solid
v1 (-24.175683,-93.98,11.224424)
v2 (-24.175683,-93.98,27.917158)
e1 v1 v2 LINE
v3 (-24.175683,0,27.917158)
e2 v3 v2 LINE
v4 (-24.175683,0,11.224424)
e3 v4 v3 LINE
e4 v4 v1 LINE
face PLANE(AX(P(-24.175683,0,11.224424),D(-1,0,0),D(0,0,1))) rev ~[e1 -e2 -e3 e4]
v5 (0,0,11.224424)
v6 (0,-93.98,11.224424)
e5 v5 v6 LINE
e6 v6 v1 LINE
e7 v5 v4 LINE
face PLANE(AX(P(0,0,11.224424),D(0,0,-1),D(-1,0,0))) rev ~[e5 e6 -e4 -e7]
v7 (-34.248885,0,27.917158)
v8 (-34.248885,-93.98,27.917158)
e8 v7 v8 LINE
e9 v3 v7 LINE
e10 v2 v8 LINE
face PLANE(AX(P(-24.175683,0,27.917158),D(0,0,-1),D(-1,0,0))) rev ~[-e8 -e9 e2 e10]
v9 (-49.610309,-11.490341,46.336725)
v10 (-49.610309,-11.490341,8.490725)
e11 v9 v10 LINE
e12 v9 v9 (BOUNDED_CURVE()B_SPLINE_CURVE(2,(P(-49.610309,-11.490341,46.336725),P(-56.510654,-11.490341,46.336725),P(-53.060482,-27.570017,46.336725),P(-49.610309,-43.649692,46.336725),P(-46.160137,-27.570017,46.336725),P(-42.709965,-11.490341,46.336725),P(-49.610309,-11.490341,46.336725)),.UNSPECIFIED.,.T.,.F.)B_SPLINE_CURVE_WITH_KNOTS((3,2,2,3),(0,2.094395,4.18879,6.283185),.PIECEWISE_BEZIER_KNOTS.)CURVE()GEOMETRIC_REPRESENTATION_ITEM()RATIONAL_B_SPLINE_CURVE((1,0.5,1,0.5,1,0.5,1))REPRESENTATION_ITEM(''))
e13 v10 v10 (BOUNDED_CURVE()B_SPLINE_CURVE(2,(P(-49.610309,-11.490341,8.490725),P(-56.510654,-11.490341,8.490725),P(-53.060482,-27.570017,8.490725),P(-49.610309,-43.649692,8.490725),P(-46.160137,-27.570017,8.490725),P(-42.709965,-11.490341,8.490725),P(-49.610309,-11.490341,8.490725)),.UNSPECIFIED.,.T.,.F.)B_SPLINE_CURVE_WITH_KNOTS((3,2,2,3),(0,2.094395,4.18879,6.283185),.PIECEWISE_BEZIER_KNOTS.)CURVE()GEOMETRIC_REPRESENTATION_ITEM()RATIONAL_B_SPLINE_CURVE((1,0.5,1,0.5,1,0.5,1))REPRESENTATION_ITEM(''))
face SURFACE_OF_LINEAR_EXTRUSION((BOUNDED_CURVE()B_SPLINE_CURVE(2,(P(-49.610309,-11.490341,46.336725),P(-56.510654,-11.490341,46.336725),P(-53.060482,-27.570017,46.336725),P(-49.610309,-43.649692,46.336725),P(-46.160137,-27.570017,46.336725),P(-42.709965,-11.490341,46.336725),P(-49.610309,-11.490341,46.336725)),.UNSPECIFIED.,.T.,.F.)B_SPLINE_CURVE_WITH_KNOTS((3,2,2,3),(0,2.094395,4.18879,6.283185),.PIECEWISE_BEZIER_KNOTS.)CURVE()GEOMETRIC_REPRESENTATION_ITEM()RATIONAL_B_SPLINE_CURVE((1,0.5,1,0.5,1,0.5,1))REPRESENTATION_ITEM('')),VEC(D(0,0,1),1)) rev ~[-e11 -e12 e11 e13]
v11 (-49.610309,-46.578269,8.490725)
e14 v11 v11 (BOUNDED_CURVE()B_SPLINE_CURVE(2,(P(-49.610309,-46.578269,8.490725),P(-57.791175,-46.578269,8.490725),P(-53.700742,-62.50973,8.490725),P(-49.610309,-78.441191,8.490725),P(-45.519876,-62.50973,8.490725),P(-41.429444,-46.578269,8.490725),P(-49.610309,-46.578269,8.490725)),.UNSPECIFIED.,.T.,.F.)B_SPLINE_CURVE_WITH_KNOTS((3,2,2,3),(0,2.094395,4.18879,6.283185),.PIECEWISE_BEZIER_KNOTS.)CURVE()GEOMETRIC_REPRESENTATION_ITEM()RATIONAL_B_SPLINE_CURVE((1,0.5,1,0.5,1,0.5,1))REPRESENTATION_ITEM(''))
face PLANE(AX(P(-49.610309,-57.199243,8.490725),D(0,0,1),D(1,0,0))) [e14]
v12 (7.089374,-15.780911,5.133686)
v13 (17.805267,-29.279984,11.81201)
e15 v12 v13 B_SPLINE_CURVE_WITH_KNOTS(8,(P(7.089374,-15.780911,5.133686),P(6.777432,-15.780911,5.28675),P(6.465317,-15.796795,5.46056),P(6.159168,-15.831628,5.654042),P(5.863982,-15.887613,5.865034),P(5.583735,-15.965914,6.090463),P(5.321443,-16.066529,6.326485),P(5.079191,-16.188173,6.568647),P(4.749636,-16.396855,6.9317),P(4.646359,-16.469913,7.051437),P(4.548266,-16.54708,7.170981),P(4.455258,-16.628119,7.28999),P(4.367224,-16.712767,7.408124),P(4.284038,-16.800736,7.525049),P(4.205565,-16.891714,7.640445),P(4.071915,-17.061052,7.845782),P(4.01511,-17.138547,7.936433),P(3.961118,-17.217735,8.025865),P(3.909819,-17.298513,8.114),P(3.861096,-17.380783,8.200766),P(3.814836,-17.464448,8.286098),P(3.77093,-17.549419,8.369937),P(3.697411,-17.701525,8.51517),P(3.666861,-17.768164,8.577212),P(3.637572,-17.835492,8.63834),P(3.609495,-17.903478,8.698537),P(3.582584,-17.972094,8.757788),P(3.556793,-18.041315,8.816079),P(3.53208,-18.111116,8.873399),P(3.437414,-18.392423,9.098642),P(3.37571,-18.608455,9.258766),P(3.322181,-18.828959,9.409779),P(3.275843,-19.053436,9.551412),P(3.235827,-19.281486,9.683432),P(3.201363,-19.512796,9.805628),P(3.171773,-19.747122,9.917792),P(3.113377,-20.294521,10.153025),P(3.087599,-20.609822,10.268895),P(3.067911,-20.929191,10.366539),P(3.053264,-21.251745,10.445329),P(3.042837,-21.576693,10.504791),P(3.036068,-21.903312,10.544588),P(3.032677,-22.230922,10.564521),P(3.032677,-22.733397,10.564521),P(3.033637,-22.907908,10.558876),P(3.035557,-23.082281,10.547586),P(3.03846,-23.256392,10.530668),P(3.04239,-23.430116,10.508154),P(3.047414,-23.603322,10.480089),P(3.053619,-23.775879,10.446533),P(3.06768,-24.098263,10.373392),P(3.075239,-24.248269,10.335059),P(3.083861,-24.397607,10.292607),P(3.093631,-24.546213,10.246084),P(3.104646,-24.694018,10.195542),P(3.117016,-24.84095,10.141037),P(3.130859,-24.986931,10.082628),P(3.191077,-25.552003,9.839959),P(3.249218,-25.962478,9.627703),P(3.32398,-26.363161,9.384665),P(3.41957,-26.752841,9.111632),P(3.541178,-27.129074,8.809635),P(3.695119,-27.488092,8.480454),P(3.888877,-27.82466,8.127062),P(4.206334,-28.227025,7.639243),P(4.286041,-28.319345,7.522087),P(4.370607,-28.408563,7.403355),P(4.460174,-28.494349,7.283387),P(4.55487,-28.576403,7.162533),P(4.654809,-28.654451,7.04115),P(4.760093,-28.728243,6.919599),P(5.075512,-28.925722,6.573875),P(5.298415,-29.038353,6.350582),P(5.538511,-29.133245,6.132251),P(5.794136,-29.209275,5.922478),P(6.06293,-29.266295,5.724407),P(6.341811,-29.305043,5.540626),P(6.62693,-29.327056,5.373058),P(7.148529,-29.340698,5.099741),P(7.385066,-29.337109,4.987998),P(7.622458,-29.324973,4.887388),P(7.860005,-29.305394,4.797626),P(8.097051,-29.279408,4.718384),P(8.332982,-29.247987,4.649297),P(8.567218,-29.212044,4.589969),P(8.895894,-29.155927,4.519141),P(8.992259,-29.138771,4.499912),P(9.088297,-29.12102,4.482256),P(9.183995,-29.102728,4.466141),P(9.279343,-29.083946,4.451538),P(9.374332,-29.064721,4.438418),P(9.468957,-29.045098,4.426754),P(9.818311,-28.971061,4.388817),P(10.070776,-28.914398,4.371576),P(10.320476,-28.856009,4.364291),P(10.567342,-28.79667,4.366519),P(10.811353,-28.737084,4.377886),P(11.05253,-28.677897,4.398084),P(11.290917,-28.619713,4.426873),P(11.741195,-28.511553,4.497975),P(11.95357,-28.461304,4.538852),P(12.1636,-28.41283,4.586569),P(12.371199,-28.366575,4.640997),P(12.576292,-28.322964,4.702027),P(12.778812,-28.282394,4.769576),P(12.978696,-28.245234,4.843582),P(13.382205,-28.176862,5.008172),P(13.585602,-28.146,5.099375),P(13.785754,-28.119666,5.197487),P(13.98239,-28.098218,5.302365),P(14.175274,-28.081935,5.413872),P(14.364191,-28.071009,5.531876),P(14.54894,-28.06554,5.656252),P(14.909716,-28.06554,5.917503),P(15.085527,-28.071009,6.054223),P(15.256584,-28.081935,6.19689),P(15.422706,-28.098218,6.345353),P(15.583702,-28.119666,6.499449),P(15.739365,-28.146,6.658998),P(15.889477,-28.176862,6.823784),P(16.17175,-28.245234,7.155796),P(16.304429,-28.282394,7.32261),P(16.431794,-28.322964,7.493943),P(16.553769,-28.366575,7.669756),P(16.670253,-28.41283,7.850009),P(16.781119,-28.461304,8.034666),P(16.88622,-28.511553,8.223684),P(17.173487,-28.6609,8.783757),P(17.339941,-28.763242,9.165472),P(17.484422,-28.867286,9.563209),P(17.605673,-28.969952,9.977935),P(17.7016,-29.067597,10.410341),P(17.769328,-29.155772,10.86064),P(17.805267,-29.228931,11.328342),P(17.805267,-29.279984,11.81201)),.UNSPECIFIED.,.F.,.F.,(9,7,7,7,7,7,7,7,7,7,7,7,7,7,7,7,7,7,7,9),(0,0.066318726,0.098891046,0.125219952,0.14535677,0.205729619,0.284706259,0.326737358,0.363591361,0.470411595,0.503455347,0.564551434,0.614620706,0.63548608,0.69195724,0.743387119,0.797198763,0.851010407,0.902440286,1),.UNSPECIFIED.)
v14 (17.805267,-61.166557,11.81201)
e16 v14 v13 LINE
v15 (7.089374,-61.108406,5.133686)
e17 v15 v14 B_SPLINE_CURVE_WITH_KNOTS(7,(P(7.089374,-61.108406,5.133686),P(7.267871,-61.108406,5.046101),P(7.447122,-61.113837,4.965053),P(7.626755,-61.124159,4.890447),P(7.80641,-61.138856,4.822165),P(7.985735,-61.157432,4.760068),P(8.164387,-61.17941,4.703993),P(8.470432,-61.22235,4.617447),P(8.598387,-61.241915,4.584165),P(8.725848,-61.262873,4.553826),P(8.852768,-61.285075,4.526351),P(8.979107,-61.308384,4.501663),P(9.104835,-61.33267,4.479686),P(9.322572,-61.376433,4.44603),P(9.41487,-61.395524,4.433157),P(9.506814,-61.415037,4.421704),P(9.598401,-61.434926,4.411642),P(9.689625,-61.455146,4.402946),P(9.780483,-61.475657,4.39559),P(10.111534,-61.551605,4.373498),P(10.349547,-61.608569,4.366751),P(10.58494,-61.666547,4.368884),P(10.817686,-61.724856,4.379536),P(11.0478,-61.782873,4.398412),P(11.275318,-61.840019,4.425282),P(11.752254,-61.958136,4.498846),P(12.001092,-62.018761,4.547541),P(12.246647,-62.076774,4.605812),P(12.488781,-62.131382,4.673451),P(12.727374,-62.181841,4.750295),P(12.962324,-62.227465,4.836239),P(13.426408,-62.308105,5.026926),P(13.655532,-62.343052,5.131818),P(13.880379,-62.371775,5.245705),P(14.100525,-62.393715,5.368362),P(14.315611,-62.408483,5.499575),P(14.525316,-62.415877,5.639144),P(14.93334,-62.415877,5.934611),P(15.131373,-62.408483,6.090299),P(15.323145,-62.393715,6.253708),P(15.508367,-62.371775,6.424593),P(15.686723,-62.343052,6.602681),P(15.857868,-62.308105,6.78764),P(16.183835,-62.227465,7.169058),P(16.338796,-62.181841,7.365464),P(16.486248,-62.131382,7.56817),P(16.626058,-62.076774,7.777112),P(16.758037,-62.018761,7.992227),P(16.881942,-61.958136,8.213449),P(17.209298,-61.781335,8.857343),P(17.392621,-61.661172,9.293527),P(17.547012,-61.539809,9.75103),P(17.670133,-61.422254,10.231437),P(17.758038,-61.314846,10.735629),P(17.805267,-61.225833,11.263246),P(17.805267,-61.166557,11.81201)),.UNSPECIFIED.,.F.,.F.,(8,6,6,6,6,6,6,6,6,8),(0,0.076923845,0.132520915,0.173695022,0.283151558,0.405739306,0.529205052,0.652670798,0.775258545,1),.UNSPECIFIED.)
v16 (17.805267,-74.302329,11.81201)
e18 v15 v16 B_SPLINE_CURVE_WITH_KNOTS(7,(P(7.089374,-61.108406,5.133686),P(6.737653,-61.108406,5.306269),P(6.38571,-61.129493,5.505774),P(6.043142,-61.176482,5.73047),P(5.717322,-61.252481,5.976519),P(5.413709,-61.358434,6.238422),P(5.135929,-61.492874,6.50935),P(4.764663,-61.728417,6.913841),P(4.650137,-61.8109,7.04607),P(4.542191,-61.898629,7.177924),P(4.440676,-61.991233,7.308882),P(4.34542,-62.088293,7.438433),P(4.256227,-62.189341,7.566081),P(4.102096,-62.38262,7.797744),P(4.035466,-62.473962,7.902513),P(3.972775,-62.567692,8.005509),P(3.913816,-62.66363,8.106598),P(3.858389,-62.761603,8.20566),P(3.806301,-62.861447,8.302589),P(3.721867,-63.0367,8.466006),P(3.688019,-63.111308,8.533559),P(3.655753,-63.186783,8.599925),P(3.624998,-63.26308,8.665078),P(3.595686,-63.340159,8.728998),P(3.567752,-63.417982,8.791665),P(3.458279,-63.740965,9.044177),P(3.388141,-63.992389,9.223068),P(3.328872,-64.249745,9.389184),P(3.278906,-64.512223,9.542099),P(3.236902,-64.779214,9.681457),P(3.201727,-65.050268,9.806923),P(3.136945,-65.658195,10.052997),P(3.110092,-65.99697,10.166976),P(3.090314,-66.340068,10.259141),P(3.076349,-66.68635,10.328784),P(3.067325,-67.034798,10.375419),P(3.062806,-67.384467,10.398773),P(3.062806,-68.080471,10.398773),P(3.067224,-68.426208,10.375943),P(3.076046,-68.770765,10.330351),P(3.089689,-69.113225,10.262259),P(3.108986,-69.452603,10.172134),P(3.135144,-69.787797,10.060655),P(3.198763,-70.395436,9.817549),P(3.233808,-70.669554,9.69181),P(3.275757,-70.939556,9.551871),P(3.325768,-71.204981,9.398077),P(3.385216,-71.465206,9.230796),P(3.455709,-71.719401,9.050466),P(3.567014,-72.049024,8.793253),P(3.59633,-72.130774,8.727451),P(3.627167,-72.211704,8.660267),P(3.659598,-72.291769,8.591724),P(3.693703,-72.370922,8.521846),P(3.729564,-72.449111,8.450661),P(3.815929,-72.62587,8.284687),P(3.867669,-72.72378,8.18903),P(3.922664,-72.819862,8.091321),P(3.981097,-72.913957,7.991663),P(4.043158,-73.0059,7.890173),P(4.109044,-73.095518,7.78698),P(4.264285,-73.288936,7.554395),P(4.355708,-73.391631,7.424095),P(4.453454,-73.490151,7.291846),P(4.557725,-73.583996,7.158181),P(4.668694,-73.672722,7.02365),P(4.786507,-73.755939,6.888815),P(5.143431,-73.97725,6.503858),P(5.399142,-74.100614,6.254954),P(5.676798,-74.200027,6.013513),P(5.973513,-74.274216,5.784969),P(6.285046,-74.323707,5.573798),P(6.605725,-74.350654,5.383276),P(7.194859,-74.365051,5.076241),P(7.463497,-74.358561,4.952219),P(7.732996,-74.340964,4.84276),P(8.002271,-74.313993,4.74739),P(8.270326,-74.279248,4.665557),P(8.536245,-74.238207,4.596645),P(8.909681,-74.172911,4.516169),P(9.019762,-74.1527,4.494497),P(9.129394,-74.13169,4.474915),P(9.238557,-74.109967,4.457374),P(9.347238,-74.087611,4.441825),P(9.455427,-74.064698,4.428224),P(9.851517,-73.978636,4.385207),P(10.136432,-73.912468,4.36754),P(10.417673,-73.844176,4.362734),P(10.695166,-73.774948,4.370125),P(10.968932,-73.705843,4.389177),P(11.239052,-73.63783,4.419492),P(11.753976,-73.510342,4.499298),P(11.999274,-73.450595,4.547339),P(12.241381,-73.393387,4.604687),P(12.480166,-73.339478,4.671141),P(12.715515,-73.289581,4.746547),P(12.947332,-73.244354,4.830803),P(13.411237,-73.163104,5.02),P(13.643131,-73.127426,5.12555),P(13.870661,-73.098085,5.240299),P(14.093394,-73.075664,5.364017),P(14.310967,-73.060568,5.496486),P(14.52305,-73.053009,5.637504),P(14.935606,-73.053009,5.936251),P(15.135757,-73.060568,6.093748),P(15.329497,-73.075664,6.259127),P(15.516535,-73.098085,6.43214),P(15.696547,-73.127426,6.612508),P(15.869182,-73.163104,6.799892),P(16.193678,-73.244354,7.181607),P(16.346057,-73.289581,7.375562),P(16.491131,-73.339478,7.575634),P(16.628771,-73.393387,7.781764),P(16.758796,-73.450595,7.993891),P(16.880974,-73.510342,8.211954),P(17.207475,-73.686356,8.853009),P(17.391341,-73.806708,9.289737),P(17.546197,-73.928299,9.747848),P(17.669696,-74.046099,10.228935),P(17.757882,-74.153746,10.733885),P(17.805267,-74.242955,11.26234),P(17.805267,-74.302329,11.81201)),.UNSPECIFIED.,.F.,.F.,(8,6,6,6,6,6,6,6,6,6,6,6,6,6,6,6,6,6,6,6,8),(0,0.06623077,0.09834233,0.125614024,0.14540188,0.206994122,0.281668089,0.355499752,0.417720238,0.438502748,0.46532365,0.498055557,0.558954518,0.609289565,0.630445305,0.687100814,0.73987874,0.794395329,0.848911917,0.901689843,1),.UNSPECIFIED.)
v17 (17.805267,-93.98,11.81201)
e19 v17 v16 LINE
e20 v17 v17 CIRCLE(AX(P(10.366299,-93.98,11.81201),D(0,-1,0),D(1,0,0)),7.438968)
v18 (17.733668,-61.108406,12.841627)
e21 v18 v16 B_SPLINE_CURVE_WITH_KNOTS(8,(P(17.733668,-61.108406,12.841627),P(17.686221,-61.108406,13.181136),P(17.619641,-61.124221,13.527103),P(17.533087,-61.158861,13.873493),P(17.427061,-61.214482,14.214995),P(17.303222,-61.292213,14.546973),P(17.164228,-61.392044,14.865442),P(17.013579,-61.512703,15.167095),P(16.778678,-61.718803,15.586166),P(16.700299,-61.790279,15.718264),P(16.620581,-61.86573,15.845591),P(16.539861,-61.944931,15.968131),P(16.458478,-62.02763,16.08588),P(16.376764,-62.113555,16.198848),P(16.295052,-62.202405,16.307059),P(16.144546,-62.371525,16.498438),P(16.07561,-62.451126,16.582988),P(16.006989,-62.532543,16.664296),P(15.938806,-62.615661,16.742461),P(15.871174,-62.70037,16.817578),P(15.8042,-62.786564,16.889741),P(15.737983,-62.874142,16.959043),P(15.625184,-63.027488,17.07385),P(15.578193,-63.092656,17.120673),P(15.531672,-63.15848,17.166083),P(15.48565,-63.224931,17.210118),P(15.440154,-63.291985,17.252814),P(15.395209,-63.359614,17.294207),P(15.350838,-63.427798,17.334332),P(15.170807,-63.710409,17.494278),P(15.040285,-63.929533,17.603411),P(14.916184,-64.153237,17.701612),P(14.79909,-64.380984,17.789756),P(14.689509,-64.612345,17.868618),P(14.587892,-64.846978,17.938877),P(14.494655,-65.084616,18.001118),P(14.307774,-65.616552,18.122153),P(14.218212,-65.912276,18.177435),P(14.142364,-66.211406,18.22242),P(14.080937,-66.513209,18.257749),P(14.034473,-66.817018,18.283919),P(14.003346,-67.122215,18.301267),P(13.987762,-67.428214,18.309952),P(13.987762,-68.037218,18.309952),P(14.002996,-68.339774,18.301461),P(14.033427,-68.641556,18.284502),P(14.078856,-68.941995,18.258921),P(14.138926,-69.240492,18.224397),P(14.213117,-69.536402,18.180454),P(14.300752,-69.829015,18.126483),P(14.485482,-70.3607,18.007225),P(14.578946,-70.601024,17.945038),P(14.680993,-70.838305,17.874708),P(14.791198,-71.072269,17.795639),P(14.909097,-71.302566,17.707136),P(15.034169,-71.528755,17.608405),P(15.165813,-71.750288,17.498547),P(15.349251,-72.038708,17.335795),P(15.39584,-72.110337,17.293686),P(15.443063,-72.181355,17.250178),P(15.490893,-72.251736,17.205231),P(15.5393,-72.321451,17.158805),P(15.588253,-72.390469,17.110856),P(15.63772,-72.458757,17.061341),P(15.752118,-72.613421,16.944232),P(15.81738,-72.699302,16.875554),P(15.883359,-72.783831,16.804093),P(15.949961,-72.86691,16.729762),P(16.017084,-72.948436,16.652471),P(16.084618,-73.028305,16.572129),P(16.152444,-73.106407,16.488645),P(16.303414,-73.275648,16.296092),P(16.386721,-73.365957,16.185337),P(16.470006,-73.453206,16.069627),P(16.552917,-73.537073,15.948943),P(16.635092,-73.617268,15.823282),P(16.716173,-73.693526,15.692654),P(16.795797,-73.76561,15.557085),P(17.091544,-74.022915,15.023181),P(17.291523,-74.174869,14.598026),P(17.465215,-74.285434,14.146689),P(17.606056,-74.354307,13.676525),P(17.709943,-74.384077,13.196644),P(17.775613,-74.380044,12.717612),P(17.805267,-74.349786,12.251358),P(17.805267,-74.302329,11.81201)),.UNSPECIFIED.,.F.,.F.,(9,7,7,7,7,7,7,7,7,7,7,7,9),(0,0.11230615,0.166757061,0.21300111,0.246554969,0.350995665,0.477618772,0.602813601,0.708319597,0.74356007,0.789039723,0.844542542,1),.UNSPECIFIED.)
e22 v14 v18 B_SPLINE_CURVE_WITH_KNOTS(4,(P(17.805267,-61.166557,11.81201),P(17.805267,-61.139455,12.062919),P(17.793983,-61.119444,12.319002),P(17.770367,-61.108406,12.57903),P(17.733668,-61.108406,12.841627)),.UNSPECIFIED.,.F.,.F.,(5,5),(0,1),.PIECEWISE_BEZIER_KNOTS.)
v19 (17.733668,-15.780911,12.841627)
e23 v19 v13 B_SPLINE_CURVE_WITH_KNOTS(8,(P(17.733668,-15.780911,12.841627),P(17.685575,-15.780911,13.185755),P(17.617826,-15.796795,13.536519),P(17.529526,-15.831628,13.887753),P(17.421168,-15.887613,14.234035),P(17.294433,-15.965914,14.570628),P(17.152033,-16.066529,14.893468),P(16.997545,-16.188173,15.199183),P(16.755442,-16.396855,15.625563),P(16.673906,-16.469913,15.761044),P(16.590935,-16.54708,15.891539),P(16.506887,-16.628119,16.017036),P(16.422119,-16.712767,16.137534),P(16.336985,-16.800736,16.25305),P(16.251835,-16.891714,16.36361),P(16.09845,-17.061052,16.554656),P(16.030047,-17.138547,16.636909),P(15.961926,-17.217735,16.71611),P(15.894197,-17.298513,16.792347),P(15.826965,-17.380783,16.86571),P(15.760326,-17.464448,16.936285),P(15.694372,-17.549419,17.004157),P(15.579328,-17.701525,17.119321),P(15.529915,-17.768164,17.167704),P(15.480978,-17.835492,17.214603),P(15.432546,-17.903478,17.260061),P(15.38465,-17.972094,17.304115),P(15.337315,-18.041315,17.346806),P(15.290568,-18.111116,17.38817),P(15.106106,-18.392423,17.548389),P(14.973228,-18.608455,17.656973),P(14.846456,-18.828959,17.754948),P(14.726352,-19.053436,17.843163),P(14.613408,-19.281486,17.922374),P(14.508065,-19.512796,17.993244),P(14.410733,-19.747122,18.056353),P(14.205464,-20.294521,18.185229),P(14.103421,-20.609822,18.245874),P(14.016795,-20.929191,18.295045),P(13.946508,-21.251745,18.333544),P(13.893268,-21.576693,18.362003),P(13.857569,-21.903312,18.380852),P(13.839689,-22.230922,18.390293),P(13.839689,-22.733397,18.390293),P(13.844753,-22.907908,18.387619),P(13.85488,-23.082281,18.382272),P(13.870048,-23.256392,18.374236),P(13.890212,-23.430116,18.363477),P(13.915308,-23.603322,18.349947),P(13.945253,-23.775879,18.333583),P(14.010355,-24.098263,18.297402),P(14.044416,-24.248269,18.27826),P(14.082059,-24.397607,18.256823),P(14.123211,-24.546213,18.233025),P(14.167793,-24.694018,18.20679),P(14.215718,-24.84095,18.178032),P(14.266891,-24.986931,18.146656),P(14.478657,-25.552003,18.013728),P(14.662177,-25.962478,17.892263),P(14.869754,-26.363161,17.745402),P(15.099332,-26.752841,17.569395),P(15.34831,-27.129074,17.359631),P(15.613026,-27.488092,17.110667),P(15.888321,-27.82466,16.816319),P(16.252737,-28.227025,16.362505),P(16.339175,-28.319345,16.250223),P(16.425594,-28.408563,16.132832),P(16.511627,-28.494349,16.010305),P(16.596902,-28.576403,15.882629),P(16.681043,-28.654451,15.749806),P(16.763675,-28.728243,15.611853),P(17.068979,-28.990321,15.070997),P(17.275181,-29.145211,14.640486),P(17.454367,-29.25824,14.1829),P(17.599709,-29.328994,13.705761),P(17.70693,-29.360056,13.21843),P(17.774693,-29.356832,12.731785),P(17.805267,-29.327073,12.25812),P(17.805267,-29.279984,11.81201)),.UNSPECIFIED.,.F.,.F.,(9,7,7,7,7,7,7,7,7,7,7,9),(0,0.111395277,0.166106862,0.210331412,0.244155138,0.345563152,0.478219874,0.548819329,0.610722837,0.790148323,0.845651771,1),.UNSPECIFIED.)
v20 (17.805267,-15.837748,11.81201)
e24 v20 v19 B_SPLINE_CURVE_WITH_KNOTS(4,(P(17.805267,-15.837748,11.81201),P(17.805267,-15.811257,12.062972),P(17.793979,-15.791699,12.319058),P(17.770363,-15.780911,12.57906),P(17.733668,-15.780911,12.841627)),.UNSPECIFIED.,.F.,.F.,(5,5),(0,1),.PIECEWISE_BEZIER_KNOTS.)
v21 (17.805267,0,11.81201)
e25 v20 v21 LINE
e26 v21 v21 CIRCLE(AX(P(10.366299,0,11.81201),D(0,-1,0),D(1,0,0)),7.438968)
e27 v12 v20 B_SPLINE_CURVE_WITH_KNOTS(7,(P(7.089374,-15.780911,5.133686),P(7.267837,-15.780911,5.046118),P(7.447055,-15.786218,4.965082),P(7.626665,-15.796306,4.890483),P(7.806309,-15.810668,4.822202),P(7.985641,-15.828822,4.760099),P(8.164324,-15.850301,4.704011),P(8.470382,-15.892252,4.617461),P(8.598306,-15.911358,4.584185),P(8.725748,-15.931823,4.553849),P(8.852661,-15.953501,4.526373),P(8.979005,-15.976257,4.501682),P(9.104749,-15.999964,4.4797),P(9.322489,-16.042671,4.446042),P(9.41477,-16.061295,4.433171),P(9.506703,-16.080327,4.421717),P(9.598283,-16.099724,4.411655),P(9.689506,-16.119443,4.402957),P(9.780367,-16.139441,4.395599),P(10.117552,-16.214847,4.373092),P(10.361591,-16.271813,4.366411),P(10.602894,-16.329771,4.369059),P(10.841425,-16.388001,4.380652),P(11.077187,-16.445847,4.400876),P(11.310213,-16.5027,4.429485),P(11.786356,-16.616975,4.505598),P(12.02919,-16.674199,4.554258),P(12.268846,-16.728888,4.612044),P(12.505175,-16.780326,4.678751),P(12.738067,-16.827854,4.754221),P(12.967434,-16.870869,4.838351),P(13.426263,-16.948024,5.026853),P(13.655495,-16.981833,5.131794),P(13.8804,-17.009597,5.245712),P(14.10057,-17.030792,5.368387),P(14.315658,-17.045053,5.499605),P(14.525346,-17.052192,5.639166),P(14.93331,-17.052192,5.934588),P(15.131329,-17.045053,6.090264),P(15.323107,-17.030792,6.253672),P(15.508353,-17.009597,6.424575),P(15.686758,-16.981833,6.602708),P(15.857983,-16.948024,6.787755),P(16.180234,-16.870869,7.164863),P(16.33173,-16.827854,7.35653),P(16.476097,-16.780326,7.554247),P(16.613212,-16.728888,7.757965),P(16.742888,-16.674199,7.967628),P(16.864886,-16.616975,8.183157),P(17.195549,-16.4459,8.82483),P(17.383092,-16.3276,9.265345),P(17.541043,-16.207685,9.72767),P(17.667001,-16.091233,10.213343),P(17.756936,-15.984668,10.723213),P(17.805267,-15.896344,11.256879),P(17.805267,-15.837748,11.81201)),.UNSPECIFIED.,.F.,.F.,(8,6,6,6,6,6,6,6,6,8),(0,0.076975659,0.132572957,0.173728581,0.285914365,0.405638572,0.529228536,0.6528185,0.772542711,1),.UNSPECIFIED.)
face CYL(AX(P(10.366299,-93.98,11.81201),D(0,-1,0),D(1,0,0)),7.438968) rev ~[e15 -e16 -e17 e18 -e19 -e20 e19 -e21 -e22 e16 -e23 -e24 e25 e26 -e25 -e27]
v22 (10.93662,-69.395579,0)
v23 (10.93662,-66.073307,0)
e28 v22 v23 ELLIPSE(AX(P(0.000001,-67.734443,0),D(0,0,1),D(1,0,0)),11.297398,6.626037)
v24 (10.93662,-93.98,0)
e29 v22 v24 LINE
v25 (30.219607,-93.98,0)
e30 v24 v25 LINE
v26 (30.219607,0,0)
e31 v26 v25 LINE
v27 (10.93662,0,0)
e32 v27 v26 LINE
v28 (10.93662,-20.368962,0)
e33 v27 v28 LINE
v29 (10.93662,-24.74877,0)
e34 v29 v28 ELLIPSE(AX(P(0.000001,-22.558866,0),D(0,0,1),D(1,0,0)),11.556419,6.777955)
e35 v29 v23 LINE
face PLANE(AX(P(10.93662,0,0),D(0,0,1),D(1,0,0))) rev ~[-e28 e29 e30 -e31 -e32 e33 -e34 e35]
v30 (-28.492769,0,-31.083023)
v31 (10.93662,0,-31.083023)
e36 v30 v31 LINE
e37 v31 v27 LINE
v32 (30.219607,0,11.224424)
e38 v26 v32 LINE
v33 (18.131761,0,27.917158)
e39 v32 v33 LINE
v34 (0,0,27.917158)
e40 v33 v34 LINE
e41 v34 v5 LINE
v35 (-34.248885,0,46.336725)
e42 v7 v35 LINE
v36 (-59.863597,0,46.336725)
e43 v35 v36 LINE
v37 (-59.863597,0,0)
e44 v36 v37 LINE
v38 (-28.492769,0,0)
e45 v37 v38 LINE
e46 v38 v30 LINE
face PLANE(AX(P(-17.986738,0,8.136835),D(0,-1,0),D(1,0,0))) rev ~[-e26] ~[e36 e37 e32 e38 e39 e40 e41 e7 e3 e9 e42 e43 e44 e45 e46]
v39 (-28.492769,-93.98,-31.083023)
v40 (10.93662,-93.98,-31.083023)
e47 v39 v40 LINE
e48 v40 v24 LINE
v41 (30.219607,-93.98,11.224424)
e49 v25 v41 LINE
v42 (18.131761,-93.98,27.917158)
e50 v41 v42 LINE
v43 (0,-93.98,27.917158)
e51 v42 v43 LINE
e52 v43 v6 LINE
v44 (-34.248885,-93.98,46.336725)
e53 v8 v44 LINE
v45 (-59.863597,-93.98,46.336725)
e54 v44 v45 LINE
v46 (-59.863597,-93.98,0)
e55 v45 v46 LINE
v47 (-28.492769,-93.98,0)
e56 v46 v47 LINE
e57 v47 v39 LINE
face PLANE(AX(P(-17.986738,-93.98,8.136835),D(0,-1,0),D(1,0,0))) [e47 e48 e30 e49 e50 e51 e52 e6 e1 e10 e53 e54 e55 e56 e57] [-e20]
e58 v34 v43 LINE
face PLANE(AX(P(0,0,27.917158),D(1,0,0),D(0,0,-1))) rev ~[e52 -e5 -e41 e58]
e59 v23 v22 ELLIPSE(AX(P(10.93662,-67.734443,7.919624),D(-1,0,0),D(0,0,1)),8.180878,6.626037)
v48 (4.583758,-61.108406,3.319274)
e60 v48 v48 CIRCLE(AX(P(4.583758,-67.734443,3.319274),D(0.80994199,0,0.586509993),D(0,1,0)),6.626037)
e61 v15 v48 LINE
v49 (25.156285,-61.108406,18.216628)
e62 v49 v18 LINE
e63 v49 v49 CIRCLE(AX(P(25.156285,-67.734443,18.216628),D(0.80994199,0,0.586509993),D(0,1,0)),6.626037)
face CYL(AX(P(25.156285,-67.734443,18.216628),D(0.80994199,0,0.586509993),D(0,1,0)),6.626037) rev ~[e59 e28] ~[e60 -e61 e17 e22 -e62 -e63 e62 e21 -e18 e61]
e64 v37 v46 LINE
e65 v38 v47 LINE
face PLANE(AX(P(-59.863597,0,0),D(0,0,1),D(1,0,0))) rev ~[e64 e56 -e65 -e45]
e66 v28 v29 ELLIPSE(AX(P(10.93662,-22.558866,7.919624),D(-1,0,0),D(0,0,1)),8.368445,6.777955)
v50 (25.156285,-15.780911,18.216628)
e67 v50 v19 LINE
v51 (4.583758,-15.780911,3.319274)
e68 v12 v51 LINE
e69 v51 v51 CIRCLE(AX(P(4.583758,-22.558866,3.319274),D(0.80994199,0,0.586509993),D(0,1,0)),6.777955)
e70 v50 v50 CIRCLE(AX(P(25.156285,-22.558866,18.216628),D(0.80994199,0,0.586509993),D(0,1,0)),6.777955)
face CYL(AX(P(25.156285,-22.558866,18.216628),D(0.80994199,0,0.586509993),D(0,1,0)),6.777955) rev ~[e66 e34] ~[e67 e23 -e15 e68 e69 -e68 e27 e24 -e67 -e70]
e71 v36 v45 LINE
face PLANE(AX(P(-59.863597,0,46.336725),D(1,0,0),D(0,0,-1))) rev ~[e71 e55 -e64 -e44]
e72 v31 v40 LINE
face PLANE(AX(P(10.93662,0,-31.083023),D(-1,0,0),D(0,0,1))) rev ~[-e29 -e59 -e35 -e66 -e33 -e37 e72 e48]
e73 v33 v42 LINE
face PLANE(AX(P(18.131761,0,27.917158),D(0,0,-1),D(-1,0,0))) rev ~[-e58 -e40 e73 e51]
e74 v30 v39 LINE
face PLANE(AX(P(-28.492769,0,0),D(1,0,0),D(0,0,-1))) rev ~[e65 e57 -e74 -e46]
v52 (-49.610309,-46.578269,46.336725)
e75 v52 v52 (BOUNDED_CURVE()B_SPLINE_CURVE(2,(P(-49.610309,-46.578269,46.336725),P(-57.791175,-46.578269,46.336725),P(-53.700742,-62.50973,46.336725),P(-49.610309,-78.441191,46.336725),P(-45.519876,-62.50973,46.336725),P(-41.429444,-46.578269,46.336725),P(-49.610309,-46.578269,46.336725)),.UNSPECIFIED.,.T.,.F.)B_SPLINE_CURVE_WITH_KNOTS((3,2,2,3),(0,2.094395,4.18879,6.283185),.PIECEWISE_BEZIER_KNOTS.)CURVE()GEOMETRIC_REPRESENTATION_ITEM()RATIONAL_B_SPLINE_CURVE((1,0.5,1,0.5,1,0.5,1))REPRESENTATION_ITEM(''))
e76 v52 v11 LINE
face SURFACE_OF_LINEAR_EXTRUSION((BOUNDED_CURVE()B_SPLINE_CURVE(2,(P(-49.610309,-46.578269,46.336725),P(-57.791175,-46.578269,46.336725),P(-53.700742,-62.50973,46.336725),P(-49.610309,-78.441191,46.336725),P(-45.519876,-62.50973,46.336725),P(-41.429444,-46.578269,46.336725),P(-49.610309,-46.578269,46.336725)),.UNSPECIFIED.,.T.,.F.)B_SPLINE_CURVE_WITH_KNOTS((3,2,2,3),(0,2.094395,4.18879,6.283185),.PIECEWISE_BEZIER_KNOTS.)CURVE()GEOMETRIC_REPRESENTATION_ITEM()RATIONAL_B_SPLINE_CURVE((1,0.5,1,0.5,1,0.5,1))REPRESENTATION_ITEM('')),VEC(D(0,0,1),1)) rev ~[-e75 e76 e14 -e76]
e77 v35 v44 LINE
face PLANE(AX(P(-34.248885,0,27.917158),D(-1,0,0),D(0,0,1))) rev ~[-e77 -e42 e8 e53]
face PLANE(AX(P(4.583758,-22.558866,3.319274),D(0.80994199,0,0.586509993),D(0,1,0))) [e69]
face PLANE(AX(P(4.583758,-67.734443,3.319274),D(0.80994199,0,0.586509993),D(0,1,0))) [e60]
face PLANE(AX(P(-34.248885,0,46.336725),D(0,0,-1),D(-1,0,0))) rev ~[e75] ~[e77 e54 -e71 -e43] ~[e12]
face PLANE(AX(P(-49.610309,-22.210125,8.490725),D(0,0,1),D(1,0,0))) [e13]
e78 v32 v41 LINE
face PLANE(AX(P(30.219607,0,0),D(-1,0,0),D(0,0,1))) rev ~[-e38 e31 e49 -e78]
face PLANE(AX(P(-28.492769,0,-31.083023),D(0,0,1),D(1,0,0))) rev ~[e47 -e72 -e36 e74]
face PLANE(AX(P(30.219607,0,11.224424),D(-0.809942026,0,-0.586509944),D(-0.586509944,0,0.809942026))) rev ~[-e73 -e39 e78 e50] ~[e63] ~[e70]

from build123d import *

# Parameters (mm, degrees)
F1_DEPTH = 93.98
F2_R     = 6.626037
F2_R_2   = 6.777955
F3_DEPTH = 25.4
F5_DEPTH = 37.846
F6_R     = 7.438968
F7_DEPTH = 128.778


with BuildPart() as f1:
    # F0 (on Front) → F1 (new body)
    with BuildSketch(Plane.XZ):
        Polygon((-34.248885, 46.336725), (-59.863597, 46.336725), (-59.863597, 0), (-28.492769, 0), (-28.492769, -31.083023), (10.93662, -31.083023), (10.93662, 0), (30.219607, 0), (30.219607, 11.224424), (18.131761, 27.917158), (0, 27.917158), (0, 11.224424), (-24.175683, 11.224424), (-24.175683, 27.917158), (-34.248885, 27.917158), align=None)
    extrude(amount=F1_DEPTH)

    # F2 (on face) → F3 (cut)
    with BuildSketch(Plane(origin=(25.156285, 0, 18.216628), x_dir=(0, 1, 0), z_dir=(0.809942, 0, 0.58651))):
        with Locations((-67.734443, 0)):
            Circle(F2_R)
        with Locations((-22.558866, 0)):
            Circle(F2_R_2)
    extrude(amount=-F3_DEPTH, mode=Mode.SUBTRACT)

    # F4 (on face) → F5 (cut)
    with BuildSketch(Plane.XY.offset(46.336725)):
        with BuildLine():
            add(Edge.make_bspline(
                [(-49.610309, -46.578269), (-57.791175, -46.578269), (-53.700742, -62.50973), (-49.610309, -78.441191), (-45.519876, -62.50973), (-41.429444, -46.578269), (-49.610309, -46.578269)],
                knots=[0, 0, 0, 2.094395, 2.094395, 4.18879, 4.18879, 6.283185, 6.283185, 6.283185], degree=2, weights=[1, 0.5, 1, 0.5, 1, 0.5, 1]))
        make_face()
        with BuildLine():
            add(Edge.make_bspline(
                [(-49.610309, -11.490341), (-56.510654, -11.490341), (-53.060482, -27.570017), (-49.610309, -43.649692), (-46.160137, -27.570017), (-42.709965, -11.490341), (-49.610309, -11.490341)],
                knots=[0, 0, 0, 2.094395, 2.094395, 4.18879, 4.18879, 6.283185, 6.283185, 6.283185], degree=2, weights=[1, 0.5, 1, 0.5, 1, 0.5, 1]))
        make_face()
    extrude(amount=-F5_DEPTH, mode=Mode.SUBTRACT)

    # F6 (on face) → F7 (cut)
    with BuildSketch(Plane.XZ.offset(93.98)):
        with Locations((10.366299, 11.81201)):
            Circle(F6_R)
    extrude(amount=-F7_DEPTH, mode=Mode.SUBTRACT)


solid = f1.part
